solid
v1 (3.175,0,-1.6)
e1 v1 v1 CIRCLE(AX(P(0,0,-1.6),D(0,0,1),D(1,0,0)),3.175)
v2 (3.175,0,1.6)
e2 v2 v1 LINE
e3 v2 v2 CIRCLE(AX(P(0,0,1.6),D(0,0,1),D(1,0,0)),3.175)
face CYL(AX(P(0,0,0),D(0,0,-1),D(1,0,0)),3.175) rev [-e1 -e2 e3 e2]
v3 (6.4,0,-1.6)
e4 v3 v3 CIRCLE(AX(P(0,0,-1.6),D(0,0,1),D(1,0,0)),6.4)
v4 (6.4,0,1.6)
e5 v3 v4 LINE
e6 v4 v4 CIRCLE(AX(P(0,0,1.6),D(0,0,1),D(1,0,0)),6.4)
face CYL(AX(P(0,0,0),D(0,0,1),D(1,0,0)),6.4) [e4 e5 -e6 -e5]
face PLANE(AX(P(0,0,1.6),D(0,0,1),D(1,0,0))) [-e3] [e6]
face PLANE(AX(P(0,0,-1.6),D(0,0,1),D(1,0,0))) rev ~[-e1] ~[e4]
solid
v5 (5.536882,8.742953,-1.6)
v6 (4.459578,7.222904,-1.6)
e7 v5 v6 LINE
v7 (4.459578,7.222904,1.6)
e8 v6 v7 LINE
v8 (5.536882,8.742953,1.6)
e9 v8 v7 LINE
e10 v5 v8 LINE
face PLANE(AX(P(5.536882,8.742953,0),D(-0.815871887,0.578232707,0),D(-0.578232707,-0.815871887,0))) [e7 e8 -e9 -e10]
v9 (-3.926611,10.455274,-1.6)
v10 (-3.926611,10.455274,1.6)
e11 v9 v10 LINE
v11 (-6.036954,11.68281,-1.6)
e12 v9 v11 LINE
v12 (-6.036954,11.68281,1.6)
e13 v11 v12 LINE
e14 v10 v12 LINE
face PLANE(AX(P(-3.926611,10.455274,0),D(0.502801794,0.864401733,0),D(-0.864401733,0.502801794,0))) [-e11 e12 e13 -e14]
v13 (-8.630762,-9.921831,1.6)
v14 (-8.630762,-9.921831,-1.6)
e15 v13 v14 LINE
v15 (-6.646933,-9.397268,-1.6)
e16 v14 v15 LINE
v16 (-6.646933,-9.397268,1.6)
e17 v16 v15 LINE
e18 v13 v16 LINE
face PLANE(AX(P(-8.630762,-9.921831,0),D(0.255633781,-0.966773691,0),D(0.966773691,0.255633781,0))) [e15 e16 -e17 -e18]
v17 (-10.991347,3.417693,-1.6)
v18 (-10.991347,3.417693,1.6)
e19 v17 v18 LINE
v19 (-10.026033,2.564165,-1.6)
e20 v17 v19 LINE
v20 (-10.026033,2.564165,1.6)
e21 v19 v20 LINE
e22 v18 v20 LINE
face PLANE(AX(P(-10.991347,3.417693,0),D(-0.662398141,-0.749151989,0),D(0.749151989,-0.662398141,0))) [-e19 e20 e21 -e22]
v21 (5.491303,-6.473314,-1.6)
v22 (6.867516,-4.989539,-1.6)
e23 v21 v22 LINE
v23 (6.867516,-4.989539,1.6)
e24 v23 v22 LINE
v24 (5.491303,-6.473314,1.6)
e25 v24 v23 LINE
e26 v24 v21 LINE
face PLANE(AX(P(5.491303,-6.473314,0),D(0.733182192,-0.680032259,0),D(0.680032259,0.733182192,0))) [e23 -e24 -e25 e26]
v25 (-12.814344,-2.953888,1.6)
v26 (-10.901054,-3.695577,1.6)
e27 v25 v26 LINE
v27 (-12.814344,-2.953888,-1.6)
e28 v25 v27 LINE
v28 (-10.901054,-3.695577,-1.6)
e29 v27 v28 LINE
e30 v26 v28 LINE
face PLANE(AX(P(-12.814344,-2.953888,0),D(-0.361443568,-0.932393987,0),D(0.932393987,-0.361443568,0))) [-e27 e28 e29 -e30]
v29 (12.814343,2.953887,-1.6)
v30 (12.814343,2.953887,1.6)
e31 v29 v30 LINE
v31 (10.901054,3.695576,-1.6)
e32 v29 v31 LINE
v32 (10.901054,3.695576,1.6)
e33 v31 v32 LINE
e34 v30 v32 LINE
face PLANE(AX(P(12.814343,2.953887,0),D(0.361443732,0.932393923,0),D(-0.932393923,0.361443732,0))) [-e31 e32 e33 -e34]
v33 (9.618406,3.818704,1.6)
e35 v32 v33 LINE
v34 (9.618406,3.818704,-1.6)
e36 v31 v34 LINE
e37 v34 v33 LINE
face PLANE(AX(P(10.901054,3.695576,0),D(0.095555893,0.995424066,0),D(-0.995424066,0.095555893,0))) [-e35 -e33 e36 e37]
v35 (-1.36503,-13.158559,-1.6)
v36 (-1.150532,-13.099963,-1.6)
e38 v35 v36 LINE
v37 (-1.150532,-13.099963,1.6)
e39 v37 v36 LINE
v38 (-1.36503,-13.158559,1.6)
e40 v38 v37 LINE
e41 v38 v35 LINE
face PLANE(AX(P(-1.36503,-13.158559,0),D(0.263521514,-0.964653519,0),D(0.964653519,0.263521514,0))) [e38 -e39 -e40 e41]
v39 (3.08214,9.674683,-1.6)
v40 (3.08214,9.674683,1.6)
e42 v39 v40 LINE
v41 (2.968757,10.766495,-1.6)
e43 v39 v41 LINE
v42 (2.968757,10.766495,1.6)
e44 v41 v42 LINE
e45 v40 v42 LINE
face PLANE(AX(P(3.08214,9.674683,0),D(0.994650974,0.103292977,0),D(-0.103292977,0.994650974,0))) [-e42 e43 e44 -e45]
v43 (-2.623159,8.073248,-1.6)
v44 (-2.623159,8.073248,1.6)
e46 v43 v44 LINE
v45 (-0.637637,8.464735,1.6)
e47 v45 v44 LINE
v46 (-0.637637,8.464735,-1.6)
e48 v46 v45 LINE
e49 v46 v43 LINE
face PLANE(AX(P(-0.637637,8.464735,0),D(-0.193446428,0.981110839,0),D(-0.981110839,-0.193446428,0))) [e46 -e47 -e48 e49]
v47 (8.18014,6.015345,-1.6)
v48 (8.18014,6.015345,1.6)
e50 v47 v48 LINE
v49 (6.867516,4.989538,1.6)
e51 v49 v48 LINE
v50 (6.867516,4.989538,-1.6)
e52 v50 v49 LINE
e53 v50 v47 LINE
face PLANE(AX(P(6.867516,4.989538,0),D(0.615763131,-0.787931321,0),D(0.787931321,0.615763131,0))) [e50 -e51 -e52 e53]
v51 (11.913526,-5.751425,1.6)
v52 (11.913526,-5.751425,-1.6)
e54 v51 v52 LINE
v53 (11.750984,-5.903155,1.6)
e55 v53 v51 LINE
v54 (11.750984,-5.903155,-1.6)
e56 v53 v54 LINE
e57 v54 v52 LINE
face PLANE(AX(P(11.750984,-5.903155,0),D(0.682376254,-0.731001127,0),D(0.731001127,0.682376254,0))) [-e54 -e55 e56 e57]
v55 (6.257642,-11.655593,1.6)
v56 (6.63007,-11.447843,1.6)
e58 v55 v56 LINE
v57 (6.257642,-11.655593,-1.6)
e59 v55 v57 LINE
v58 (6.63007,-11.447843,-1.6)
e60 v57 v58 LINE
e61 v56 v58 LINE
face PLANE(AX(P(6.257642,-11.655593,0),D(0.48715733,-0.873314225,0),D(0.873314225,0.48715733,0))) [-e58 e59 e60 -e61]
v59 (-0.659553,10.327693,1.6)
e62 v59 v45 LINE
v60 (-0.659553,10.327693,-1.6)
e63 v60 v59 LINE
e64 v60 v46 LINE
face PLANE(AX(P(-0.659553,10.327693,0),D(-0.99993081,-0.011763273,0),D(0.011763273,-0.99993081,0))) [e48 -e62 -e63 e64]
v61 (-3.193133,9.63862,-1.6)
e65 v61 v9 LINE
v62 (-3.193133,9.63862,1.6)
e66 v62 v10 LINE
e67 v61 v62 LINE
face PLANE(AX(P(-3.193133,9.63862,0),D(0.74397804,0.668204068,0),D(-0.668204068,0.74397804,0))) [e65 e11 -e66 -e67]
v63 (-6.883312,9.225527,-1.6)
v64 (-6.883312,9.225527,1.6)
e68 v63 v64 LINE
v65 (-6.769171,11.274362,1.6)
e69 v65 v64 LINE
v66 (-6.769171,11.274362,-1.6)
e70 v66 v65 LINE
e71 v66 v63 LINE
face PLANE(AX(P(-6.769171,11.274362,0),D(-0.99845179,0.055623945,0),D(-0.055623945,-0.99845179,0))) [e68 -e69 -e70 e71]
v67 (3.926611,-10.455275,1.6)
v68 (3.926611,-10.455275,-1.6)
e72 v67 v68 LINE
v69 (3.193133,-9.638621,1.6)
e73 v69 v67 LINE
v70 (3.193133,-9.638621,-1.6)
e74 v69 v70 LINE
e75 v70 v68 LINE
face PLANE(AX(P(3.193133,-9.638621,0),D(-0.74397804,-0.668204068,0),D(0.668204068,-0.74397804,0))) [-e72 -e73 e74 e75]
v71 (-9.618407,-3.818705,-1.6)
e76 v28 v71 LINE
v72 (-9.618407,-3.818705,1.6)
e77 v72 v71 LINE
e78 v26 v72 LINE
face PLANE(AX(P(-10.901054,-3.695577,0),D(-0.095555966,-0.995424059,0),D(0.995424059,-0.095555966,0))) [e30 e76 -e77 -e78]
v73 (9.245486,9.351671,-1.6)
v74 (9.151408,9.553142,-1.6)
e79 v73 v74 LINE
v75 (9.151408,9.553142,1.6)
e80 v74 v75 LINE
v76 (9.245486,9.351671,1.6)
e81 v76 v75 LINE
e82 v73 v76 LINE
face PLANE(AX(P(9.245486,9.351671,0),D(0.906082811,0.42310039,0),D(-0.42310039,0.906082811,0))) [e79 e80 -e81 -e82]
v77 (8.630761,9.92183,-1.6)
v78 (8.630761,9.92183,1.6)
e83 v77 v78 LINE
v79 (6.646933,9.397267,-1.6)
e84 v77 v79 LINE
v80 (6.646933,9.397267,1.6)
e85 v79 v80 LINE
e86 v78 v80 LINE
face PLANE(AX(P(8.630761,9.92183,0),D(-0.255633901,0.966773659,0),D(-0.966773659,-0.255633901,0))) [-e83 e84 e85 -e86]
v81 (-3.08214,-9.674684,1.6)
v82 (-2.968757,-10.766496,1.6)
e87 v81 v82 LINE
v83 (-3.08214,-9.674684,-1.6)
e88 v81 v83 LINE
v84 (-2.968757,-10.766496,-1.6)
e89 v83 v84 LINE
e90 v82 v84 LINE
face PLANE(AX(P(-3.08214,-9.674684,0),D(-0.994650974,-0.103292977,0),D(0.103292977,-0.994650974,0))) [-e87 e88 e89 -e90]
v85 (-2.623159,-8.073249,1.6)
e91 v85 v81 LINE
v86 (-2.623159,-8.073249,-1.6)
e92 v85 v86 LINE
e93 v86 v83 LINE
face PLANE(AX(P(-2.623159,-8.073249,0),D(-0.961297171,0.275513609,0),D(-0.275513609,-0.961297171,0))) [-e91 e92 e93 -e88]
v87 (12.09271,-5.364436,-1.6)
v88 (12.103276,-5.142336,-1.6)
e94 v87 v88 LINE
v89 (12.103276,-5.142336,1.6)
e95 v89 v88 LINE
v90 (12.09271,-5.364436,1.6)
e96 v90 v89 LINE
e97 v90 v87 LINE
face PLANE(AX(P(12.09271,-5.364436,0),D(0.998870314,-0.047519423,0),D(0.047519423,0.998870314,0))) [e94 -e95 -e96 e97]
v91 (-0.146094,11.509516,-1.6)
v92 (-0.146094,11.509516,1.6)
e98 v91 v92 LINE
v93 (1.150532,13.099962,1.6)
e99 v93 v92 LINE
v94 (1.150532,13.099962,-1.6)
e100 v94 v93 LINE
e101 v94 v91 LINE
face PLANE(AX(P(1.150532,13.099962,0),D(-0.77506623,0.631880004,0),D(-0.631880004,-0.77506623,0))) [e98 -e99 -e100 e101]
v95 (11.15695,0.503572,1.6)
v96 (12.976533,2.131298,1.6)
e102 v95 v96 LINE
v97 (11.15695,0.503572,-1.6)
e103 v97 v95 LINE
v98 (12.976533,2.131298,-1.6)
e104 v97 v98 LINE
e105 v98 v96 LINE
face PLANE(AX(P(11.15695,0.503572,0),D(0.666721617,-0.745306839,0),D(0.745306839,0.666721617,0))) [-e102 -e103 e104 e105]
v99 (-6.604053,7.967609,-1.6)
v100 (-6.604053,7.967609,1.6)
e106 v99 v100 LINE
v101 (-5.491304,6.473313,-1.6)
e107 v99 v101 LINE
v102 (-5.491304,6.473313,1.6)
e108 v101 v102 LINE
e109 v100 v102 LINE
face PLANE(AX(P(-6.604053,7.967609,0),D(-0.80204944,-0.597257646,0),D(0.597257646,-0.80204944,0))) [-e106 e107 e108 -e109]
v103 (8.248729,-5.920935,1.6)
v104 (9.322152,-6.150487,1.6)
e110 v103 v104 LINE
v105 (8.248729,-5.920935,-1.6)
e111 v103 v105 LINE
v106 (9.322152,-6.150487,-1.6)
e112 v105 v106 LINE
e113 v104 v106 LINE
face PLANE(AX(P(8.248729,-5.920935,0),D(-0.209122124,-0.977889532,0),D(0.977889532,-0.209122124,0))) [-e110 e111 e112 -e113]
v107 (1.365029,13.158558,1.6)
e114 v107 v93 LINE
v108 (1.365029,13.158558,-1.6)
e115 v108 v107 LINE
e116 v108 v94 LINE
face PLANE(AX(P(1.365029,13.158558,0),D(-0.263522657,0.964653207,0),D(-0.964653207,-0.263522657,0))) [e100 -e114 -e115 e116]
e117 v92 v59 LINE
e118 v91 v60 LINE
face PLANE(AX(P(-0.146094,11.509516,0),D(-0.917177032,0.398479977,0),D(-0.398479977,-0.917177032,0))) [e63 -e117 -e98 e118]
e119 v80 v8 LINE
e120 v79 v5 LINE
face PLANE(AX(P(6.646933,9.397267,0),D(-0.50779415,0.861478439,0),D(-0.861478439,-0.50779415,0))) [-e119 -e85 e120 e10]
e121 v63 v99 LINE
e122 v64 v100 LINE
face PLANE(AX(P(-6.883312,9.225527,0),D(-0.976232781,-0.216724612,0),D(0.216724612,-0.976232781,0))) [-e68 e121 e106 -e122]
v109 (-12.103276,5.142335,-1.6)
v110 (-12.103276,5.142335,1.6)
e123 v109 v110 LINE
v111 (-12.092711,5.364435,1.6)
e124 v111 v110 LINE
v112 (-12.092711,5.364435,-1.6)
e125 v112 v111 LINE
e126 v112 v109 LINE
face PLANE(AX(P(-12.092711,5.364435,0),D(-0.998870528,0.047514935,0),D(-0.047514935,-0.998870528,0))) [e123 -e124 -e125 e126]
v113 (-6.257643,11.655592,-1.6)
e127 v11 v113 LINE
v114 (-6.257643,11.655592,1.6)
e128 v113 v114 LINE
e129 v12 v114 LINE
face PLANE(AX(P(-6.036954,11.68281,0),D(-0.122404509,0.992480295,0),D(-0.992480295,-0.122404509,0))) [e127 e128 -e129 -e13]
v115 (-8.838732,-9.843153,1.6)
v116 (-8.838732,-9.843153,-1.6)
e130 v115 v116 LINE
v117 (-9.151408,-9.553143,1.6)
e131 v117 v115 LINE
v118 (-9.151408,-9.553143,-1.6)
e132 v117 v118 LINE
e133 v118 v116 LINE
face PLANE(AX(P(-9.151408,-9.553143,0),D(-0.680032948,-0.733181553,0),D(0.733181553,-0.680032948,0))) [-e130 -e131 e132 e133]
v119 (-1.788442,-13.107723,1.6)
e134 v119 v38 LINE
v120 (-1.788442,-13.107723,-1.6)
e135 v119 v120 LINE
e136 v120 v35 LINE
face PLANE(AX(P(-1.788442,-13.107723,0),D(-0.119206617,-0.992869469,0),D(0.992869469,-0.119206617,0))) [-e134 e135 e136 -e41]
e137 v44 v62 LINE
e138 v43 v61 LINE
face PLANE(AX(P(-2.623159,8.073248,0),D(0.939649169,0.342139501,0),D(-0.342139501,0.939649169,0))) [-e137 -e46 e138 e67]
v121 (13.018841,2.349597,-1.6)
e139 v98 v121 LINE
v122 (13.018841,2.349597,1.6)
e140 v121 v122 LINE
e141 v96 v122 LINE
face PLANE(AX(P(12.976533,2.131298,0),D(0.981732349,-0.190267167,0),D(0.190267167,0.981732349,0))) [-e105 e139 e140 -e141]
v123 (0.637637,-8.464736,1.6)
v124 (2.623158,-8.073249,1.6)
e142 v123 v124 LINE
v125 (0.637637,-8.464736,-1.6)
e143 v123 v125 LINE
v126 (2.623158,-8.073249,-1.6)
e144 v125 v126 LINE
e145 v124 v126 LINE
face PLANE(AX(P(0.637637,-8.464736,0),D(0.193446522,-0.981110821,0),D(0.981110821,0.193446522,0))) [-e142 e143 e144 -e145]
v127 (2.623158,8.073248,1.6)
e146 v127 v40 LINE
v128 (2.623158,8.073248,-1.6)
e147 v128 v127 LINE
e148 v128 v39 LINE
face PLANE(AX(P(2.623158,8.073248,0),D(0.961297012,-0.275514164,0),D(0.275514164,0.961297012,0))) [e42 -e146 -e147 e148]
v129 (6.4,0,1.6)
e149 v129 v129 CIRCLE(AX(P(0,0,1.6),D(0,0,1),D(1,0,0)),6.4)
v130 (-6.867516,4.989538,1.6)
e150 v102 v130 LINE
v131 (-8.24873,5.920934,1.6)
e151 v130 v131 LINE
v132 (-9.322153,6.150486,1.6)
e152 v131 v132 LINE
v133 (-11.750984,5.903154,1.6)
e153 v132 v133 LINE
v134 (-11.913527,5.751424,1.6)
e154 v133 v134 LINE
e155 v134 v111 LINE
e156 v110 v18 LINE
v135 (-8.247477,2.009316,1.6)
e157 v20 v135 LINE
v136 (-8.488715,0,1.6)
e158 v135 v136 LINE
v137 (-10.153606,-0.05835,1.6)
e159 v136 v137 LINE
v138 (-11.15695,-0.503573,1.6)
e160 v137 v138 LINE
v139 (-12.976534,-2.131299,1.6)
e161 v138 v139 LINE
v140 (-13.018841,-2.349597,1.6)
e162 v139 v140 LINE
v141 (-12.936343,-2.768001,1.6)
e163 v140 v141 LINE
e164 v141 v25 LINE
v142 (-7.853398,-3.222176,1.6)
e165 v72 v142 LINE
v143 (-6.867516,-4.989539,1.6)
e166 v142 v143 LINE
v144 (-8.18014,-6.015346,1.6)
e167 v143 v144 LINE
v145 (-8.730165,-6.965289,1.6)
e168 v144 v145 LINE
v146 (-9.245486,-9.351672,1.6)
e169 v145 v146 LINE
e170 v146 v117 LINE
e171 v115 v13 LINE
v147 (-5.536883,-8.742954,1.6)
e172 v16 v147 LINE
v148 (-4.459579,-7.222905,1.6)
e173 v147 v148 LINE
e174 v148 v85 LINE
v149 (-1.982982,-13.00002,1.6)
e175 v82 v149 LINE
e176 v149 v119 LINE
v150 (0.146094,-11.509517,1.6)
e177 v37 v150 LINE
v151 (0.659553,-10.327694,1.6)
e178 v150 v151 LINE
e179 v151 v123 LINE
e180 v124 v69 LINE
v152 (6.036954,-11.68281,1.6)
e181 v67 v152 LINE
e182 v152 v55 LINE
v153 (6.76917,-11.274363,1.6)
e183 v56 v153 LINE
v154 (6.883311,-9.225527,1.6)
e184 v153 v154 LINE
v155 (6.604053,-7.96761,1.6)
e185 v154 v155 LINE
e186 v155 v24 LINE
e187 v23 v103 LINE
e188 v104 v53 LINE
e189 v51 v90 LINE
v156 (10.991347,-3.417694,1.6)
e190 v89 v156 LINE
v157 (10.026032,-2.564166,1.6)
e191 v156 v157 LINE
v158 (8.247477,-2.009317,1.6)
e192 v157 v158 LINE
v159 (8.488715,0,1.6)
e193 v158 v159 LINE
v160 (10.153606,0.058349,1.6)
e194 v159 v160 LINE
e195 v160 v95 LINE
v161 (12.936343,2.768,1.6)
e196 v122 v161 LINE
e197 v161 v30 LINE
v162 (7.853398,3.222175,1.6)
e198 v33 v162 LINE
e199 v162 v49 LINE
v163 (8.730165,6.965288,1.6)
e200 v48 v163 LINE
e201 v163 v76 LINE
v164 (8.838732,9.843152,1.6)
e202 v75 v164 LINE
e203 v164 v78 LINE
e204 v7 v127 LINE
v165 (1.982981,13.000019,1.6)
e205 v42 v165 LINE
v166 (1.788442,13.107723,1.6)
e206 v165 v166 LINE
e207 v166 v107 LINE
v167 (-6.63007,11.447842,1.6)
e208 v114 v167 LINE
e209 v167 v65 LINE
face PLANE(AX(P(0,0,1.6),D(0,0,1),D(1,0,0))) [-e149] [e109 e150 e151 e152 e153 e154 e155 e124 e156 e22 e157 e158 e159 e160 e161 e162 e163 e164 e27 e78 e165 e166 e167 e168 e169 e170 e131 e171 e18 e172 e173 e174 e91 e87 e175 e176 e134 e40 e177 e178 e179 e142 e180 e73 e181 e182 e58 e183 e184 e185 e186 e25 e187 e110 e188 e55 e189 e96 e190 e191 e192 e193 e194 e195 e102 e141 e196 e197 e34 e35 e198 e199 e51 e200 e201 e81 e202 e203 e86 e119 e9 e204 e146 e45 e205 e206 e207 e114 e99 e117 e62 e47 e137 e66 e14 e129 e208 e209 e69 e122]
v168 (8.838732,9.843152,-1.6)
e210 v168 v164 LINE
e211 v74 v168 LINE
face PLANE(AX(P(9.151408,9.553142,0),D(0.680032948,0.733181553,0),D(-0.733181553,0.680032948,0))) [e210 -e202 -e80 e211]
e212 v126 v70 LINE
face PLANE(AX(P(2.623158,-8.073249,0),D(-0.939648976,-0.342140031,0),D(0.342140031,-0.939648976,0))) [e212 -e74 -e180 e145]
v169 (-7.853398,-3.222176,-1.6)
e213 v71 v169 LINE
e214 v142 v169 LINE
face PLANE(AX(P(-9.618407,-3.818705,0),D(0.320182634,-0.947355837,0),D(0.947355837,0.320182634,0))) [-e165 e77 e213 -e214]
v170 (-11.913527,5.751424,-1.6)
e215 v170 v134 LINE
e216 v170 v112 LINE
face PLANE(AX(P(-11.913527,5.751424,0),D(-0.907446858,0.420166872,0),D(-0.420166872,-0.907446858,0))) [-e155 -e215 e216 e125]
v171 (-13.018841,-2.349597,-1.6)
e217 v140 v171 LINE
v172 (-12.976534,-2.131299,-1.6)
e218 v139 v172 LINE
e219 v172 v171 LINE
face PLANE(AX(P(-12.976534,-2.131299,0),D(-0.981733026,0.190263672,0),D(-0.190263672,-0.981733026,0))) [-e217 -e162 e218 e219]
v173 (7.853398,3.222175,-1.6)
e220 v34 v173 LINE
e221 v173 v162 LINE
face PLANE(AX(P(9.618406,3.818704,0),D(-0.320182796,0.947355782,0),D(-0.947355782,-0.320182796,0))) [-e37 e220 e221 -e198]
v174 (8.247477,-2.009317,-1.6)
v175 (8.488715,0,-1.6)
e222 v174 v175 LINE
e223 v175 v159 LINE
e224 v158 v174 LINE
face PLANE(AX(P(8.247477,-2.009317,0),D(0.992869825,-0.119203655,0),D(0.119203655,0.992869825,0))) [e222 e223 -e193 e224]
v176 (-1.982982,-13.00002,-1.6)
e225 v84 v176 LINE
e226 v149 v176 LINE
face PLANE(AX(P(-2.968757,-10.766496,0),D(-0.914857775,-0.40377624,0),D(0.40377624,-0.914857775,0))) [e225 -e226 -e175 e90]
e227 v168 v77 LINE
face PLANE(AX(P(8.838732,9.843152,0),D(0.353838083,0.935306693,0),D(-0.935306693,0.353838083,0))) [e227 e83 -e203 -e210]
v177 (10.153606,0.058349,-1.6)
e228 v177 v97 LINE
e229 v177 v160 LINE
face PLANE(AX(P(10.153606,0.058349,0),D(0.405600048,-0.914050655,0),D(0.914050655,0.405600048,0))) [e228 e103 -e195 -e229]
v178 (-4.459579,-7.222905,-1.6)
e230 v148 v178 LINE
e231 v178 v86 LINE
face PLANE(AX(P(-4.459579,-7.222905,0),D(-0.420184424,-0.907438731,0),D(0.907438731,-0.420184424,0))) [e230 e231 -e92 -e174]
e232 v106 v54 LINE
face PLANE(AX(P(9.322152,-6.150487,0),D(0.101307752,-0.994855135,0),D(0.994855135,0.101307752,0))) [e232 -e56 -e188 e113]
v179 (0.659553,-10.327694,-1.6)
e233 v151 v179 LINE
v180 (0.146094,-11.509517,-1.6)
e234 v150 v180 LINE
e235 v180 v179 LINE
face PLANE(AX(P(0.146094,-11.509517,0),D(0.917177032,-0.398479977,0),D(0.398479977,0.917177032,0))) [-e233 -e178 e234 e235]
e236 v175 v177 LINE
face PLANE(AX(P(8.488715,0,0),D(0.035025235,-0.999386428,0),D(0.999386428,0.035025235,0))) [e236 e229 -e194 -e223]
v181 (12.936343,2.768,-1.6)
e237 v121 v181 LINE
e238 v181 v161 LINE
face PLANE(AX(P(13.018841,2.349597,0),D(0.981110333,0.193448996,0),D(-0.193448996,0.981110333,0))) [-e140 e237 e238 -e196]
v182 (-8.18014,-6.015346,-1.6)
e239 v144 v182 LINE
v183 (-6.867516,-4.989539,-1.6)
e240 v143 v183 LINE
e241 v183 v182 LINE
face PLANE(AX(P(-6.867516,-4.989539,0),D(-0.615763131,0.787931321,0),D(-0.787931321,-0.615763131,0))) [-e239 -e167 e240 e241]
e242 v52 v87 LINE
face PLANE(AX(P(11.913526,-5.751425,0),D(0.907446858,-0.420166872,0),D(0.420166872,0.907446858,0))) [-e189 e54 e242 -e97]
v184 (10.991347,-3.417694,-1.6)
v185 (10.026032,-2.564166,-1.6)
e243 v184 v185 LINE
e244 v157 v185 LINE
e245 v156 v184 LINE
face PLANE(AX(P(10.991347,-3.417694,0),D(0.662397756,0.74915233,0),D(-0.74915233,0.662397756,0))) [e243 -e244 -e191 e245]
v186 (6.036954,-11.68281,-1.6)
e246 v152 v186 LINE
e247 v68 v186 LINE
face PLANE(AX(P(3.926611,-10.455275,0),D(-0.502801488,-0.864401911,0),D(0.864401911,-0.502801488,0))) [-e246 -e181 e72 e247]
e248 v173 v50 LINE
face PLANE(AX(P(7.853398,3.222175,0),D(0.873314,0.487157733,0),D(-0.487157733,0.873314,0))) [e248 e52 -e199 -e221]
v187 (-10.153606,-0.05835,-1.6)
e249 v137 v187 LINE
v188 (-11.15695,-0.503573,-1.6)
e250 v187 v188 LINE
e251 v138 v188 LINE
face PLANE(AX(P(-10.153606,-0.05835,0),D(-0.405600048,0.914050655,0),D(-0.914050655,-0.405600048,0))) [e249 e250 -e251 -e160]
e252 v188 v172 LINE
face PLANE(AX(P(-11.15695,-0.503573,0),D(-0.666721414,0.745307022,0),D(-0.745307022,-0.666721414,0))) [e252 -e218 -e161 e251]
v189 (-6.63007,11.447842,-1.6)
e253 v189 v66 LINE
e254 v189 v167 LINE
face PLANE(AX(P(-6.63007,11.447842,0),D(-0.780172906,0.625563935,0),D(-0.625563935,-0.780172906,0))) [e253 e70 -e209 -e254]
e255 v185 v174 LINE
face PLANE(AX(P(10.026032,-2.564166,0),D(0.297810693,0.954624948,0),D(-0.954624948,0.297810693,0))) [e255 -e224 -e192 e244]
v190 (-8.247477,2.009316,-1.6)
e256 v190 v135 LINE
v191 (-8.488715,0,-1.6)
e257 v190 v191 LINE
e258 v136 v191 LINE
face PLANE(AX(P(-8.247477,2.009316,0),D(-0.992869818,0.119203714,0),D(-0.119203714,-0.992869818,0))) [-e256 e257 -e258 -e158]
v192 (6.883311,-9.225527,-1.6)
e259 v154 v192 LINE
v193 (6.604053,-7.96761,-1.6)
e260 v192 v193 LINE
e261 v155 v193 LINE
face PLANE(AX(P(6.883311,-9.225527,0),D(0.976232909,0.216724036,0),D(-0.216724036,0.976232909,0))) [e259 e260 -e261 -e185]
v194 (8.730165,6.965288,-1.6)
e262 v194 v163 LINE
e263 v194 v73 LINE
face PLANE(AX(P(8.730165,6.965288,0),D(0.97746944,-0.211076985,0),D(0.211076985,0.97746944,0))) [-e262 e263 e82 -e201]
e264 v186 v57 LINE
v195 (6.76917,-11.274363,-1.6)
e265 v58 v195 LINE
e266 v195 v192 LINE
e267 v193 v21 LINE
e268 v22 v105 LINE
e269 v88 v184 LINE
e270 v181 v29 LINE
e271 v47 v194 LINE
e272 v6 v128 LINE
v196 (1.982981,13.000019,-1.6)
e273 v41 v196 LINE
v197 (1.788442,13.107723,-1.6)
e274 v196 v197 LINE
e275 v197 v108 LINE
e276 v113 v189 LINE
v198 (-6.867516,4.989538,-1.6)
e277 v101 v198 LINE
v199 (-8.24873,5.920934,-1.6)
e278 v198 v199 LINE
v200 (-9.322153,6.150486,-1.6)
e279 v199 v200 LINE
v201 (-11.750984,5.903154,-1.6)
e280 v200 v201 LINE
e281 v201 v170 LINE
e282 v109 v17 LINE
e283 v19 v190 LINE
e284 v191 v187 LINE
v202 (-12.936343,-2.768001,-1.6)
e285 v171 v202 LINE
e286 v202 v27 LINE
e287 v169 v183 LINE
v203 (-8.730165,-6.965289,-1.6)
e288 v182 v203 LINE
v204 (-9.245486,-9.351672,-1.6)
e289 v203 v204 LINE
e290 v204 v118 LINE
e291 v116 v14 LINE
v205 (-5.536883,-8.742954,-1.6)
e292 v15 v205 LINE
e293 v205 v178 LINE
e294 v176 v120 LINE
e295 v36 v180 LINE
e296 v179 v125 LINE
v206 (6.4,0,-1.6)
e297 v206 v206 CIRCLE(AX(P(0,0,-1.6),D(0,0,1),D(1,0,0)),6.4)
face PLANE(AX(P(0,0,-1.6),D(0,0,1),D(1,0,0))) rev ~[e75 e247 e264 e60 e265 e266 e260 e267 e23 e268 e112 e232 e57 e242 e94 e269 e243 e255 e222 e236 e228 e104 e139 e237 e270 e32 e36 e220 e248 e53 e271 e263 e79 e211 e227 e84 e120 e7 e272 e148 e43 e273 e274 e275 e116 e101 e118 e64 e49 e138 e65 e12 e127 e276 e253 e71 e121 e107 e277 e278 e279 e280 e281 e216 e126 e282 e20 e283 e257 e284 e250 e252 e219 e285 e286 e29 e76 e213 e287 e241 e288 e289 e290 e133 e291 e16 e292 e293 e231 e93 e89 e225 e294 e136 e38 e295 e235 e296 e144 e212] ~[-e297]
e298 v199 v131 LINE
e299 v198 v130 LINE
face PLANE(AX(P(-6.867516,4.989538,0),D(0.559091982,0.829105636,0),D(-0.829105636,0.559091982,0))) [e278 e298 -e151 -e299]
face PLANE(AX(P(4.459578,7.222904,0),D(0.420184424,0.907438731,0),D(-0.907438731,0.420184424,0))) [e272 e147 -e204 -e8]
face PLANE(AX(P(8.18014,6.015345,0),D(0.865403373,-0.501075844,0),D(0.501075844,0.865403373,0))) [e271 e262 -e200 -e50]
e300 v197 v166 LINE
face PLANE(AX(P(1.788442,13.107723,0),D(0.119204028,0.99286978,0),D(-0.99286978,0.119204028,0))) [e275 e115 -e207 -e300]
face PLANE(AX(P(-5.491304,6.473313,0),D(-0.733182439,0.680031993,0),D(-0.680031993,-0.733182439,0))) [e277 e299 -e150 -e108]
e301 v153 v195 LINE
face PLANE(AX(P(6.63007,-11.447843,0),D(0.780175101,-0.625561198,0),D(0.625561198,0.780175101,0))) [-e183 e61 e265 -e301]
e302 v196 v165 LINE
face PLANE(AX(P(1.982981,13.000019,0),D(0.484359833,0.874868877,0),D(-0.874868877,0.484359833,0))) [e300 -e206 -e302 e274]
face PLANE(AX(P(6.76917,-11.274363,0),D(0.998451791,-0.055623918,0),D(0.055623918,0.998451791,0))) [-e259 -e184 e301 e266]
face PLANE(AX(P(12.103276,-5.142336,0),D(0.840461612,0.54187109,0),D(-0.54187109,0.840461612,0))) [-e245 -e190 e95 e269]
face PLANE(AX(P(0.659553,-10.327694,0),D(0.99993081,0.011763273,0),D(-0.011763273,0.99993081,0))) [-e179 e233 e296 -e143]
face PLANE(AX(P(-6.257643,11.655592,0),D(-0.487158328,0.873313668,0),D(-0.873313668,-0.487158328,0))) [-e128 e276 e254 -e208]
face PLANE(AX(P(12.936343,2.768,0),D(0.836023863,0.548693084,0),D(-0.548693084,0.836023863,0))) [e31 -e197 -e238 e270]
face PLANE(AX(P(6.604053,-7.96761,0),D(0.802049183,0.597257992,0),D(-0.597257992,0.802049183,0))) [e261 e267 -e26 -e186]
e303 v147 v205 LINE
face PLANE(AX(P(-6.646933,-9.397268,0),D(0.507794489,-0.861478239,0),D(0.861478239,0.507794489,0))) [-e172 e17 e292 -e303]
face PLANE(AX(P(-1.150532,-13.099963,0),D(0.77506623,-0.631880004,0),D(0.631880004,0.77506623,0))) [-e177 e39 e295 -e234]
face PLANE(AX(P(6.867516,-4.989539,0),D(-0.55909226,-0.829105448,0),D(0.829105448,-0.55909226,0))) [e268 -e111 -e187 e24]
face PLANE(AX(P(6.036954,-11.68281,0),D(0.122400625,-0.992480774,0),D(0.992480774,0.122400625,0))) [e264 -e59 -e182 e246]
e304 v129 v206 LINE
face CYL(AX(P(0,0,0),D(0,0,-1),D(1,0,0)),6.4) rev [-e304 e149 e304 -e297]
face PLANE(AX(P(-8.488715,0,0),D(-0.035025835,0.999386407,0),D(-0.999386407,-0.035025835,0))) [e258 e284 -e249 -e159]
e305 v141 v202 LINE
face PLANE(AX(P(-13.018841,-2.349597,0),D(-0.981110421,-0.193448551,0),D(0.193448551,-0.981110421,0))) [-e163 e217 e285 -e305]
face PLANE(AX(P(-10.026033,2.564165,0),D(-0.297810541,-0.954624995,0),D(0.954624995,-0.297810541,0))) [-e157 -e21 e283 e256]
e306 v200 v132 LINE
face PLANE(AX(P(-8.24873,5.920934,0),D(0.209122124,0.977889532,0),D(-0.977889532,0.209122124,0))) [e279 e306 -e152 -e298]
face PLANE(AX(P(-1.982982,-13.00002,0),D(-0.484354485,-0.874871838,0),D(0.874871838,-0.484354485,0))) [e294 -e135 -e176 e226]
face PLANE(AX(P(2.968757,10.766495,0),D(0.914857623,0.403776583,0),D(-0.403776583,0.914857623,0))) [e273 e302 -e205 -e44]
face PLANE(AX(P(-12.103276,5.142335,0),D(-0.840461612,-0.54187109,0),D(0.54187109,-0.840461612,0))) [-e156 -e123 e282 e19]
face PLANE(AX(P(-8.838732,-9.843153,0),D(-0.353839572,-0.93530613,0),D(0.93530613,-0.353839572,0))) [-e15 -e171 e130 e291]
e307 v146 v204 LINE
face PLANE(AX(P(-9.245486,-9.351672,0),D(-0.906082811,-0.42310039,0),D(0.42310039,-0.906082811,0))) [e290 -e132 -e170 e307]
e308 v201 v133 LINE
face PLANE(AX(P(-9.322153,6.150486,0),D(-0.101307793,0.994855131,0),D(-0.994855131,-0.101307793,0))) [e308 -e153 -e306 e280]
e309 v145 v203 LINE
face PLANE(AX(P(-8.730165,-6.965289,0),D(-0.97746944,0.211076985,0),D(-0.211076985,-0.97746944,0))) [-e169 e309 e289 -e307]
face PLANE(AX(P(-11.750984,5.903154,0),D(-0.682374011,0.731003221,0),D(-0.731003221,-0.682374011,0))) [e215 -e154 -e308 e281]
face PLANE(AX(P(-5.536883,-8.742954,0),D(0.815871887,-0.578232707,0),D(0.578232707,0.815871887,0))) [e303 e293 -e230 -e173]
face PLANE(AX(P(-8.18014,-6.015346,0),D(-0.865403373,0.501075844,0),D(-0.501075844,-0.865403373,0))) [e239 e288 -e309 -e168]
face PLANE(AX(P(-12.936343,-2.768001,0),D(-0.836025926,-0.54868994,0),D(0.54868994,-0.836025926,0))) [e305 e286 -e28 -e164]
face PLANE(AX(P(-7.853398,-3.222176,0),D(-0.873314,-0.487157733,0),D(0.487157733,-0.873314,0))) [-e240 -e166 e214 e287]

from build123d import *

# Parameters (mm, degrees)
F0_R     = 6.4
F1_DEPTH = 1.6
F2_R     = 6.4
F2_R_2   = 3.175
F3_DEPTH = 1.6


with BuildPart() as f1:
    # F0 (on Top) → F1 (new body, symmetric)
    with BuildSketch(Plane.XY):
        Polygon((8.247477, -2.009317), (8.488715, 0), (10.153606, 0.058349), (11.15695, 0.503572), (12.976533, 2.131298), (13.018841, 2.349597), (12.936343, 2.768), (12.814343, 2.953887), (10.901054, 3.695576), (9.618406, 3.818704), (7.853398, 3.222175), (6.867516, 4.989538), (8.18014, 6.015345), (8.730165, 6.965288), (9.245486, 9.351671), (9.151408, 9.553142), (8.838732, 9.843152), (8.630761, 9.92183), (6.646933, 9.397267), (5.536882, 8.742953), (4.459578, 7.222904), (2.623158, 8.073248), (3.08214, 9.674683), (2.968757, 10.766495), (1.982981, 13.000019), (1.788442, 13.107723), (1.365029, 13.158558), (1.150532, 13.099962), (-0.146094, 11.509516), (-0.659553, 10.327693), (-0.637637, 8.464735), (-2.623159, 8.073248), (-3.193133, 9.63862), (-3.926611, 10.455274), (-6.036954, 11.68281), (-6.257643, 11.655592), (-6.63007, 11.447842), (-6.769171, 11.274362), (-6.883312, 9.225527), (-6.604053, 7.967609), (-5.491304, 6.473313), (-6.867516, 4.989538), (-8.24873, 5.920934), (-9.322153, 6.150486), (-11.750984, 5.903154), (-11.913527, 5.751424), (-12.092711, 5.364435), (-12.103276, 5.142335), (-10.991347, 3.417693), (-10.026033, 2.564165), (-8.247477, 2.009316), (-8.488715, 0), (-10.153606, -0.05835), (-11.15695, -0.503573), (-12.976534, -2.131299), (-13.018841, -2.349597), (-12.936343, -2.768001), (-12.814344, -2.953888), (-10.901054, -3.695577), (-9.618407, -3.818705), (-7.853398, -3.222176), (-6.867516, -4.989539), (-8.18014, -6.015346), (-8.730165, -6.965289), (-9.245486, -9.351672), (-9.151408, -9.553143), (-8.838732, -9.843153), (-8.630762, -9.921831), (-6.646933, -9.397268), (-5.536883, -8.742954), (-4.459579, -7.222905), (-2.623159, -8.073249), (-3.08214, -9.674684), (-2.968757, -10.766496), (-1.982982, -13.00002), (-1.788442, -13.107723), (-1.36503, -13.158559), (-1.150532, -13.099963), (0.146094, -11.509517), (0.659553, -10.327694), (0.637637, -8.464736), (2.623158, -8.073249), (3.193133, -9.638621), (3.926611, -10.455275), (6.036954, -11.68281), (6.257642, -11.655593), (6.63007, -11.447843), (6.76917, -11.274363), (6.883311, -9.225527), (6.604053, -7.96761), (5.491303, -6.473314), (6.867516, -4.989539), (8.248729, -5.920935), (9.322152, -6.150487), (11.750984, -5.903155), (11.913526, -5.751425), (12.09271, -5.364436), (12.103276, -5.142336), (10.991347, -3.417694), (10.026032, -2.564166), align=None)
        Circle(F0_R, mode=Mode.SUBTRACT)
    extrude(amount=F1_DEPTH, both=True)


with BuildPart() as f3:
    # F2 (on Top) → F3 (new body, symmetric)
    with BuildSketch(Plane.XY):
        Circle(F2_R)
        Circle(F2_R_2, mode=Mode.SUBTRACT)
    extrude(amount=F3_DEPTH, both=True)


solid = Compound([f1.part, f3.part])
